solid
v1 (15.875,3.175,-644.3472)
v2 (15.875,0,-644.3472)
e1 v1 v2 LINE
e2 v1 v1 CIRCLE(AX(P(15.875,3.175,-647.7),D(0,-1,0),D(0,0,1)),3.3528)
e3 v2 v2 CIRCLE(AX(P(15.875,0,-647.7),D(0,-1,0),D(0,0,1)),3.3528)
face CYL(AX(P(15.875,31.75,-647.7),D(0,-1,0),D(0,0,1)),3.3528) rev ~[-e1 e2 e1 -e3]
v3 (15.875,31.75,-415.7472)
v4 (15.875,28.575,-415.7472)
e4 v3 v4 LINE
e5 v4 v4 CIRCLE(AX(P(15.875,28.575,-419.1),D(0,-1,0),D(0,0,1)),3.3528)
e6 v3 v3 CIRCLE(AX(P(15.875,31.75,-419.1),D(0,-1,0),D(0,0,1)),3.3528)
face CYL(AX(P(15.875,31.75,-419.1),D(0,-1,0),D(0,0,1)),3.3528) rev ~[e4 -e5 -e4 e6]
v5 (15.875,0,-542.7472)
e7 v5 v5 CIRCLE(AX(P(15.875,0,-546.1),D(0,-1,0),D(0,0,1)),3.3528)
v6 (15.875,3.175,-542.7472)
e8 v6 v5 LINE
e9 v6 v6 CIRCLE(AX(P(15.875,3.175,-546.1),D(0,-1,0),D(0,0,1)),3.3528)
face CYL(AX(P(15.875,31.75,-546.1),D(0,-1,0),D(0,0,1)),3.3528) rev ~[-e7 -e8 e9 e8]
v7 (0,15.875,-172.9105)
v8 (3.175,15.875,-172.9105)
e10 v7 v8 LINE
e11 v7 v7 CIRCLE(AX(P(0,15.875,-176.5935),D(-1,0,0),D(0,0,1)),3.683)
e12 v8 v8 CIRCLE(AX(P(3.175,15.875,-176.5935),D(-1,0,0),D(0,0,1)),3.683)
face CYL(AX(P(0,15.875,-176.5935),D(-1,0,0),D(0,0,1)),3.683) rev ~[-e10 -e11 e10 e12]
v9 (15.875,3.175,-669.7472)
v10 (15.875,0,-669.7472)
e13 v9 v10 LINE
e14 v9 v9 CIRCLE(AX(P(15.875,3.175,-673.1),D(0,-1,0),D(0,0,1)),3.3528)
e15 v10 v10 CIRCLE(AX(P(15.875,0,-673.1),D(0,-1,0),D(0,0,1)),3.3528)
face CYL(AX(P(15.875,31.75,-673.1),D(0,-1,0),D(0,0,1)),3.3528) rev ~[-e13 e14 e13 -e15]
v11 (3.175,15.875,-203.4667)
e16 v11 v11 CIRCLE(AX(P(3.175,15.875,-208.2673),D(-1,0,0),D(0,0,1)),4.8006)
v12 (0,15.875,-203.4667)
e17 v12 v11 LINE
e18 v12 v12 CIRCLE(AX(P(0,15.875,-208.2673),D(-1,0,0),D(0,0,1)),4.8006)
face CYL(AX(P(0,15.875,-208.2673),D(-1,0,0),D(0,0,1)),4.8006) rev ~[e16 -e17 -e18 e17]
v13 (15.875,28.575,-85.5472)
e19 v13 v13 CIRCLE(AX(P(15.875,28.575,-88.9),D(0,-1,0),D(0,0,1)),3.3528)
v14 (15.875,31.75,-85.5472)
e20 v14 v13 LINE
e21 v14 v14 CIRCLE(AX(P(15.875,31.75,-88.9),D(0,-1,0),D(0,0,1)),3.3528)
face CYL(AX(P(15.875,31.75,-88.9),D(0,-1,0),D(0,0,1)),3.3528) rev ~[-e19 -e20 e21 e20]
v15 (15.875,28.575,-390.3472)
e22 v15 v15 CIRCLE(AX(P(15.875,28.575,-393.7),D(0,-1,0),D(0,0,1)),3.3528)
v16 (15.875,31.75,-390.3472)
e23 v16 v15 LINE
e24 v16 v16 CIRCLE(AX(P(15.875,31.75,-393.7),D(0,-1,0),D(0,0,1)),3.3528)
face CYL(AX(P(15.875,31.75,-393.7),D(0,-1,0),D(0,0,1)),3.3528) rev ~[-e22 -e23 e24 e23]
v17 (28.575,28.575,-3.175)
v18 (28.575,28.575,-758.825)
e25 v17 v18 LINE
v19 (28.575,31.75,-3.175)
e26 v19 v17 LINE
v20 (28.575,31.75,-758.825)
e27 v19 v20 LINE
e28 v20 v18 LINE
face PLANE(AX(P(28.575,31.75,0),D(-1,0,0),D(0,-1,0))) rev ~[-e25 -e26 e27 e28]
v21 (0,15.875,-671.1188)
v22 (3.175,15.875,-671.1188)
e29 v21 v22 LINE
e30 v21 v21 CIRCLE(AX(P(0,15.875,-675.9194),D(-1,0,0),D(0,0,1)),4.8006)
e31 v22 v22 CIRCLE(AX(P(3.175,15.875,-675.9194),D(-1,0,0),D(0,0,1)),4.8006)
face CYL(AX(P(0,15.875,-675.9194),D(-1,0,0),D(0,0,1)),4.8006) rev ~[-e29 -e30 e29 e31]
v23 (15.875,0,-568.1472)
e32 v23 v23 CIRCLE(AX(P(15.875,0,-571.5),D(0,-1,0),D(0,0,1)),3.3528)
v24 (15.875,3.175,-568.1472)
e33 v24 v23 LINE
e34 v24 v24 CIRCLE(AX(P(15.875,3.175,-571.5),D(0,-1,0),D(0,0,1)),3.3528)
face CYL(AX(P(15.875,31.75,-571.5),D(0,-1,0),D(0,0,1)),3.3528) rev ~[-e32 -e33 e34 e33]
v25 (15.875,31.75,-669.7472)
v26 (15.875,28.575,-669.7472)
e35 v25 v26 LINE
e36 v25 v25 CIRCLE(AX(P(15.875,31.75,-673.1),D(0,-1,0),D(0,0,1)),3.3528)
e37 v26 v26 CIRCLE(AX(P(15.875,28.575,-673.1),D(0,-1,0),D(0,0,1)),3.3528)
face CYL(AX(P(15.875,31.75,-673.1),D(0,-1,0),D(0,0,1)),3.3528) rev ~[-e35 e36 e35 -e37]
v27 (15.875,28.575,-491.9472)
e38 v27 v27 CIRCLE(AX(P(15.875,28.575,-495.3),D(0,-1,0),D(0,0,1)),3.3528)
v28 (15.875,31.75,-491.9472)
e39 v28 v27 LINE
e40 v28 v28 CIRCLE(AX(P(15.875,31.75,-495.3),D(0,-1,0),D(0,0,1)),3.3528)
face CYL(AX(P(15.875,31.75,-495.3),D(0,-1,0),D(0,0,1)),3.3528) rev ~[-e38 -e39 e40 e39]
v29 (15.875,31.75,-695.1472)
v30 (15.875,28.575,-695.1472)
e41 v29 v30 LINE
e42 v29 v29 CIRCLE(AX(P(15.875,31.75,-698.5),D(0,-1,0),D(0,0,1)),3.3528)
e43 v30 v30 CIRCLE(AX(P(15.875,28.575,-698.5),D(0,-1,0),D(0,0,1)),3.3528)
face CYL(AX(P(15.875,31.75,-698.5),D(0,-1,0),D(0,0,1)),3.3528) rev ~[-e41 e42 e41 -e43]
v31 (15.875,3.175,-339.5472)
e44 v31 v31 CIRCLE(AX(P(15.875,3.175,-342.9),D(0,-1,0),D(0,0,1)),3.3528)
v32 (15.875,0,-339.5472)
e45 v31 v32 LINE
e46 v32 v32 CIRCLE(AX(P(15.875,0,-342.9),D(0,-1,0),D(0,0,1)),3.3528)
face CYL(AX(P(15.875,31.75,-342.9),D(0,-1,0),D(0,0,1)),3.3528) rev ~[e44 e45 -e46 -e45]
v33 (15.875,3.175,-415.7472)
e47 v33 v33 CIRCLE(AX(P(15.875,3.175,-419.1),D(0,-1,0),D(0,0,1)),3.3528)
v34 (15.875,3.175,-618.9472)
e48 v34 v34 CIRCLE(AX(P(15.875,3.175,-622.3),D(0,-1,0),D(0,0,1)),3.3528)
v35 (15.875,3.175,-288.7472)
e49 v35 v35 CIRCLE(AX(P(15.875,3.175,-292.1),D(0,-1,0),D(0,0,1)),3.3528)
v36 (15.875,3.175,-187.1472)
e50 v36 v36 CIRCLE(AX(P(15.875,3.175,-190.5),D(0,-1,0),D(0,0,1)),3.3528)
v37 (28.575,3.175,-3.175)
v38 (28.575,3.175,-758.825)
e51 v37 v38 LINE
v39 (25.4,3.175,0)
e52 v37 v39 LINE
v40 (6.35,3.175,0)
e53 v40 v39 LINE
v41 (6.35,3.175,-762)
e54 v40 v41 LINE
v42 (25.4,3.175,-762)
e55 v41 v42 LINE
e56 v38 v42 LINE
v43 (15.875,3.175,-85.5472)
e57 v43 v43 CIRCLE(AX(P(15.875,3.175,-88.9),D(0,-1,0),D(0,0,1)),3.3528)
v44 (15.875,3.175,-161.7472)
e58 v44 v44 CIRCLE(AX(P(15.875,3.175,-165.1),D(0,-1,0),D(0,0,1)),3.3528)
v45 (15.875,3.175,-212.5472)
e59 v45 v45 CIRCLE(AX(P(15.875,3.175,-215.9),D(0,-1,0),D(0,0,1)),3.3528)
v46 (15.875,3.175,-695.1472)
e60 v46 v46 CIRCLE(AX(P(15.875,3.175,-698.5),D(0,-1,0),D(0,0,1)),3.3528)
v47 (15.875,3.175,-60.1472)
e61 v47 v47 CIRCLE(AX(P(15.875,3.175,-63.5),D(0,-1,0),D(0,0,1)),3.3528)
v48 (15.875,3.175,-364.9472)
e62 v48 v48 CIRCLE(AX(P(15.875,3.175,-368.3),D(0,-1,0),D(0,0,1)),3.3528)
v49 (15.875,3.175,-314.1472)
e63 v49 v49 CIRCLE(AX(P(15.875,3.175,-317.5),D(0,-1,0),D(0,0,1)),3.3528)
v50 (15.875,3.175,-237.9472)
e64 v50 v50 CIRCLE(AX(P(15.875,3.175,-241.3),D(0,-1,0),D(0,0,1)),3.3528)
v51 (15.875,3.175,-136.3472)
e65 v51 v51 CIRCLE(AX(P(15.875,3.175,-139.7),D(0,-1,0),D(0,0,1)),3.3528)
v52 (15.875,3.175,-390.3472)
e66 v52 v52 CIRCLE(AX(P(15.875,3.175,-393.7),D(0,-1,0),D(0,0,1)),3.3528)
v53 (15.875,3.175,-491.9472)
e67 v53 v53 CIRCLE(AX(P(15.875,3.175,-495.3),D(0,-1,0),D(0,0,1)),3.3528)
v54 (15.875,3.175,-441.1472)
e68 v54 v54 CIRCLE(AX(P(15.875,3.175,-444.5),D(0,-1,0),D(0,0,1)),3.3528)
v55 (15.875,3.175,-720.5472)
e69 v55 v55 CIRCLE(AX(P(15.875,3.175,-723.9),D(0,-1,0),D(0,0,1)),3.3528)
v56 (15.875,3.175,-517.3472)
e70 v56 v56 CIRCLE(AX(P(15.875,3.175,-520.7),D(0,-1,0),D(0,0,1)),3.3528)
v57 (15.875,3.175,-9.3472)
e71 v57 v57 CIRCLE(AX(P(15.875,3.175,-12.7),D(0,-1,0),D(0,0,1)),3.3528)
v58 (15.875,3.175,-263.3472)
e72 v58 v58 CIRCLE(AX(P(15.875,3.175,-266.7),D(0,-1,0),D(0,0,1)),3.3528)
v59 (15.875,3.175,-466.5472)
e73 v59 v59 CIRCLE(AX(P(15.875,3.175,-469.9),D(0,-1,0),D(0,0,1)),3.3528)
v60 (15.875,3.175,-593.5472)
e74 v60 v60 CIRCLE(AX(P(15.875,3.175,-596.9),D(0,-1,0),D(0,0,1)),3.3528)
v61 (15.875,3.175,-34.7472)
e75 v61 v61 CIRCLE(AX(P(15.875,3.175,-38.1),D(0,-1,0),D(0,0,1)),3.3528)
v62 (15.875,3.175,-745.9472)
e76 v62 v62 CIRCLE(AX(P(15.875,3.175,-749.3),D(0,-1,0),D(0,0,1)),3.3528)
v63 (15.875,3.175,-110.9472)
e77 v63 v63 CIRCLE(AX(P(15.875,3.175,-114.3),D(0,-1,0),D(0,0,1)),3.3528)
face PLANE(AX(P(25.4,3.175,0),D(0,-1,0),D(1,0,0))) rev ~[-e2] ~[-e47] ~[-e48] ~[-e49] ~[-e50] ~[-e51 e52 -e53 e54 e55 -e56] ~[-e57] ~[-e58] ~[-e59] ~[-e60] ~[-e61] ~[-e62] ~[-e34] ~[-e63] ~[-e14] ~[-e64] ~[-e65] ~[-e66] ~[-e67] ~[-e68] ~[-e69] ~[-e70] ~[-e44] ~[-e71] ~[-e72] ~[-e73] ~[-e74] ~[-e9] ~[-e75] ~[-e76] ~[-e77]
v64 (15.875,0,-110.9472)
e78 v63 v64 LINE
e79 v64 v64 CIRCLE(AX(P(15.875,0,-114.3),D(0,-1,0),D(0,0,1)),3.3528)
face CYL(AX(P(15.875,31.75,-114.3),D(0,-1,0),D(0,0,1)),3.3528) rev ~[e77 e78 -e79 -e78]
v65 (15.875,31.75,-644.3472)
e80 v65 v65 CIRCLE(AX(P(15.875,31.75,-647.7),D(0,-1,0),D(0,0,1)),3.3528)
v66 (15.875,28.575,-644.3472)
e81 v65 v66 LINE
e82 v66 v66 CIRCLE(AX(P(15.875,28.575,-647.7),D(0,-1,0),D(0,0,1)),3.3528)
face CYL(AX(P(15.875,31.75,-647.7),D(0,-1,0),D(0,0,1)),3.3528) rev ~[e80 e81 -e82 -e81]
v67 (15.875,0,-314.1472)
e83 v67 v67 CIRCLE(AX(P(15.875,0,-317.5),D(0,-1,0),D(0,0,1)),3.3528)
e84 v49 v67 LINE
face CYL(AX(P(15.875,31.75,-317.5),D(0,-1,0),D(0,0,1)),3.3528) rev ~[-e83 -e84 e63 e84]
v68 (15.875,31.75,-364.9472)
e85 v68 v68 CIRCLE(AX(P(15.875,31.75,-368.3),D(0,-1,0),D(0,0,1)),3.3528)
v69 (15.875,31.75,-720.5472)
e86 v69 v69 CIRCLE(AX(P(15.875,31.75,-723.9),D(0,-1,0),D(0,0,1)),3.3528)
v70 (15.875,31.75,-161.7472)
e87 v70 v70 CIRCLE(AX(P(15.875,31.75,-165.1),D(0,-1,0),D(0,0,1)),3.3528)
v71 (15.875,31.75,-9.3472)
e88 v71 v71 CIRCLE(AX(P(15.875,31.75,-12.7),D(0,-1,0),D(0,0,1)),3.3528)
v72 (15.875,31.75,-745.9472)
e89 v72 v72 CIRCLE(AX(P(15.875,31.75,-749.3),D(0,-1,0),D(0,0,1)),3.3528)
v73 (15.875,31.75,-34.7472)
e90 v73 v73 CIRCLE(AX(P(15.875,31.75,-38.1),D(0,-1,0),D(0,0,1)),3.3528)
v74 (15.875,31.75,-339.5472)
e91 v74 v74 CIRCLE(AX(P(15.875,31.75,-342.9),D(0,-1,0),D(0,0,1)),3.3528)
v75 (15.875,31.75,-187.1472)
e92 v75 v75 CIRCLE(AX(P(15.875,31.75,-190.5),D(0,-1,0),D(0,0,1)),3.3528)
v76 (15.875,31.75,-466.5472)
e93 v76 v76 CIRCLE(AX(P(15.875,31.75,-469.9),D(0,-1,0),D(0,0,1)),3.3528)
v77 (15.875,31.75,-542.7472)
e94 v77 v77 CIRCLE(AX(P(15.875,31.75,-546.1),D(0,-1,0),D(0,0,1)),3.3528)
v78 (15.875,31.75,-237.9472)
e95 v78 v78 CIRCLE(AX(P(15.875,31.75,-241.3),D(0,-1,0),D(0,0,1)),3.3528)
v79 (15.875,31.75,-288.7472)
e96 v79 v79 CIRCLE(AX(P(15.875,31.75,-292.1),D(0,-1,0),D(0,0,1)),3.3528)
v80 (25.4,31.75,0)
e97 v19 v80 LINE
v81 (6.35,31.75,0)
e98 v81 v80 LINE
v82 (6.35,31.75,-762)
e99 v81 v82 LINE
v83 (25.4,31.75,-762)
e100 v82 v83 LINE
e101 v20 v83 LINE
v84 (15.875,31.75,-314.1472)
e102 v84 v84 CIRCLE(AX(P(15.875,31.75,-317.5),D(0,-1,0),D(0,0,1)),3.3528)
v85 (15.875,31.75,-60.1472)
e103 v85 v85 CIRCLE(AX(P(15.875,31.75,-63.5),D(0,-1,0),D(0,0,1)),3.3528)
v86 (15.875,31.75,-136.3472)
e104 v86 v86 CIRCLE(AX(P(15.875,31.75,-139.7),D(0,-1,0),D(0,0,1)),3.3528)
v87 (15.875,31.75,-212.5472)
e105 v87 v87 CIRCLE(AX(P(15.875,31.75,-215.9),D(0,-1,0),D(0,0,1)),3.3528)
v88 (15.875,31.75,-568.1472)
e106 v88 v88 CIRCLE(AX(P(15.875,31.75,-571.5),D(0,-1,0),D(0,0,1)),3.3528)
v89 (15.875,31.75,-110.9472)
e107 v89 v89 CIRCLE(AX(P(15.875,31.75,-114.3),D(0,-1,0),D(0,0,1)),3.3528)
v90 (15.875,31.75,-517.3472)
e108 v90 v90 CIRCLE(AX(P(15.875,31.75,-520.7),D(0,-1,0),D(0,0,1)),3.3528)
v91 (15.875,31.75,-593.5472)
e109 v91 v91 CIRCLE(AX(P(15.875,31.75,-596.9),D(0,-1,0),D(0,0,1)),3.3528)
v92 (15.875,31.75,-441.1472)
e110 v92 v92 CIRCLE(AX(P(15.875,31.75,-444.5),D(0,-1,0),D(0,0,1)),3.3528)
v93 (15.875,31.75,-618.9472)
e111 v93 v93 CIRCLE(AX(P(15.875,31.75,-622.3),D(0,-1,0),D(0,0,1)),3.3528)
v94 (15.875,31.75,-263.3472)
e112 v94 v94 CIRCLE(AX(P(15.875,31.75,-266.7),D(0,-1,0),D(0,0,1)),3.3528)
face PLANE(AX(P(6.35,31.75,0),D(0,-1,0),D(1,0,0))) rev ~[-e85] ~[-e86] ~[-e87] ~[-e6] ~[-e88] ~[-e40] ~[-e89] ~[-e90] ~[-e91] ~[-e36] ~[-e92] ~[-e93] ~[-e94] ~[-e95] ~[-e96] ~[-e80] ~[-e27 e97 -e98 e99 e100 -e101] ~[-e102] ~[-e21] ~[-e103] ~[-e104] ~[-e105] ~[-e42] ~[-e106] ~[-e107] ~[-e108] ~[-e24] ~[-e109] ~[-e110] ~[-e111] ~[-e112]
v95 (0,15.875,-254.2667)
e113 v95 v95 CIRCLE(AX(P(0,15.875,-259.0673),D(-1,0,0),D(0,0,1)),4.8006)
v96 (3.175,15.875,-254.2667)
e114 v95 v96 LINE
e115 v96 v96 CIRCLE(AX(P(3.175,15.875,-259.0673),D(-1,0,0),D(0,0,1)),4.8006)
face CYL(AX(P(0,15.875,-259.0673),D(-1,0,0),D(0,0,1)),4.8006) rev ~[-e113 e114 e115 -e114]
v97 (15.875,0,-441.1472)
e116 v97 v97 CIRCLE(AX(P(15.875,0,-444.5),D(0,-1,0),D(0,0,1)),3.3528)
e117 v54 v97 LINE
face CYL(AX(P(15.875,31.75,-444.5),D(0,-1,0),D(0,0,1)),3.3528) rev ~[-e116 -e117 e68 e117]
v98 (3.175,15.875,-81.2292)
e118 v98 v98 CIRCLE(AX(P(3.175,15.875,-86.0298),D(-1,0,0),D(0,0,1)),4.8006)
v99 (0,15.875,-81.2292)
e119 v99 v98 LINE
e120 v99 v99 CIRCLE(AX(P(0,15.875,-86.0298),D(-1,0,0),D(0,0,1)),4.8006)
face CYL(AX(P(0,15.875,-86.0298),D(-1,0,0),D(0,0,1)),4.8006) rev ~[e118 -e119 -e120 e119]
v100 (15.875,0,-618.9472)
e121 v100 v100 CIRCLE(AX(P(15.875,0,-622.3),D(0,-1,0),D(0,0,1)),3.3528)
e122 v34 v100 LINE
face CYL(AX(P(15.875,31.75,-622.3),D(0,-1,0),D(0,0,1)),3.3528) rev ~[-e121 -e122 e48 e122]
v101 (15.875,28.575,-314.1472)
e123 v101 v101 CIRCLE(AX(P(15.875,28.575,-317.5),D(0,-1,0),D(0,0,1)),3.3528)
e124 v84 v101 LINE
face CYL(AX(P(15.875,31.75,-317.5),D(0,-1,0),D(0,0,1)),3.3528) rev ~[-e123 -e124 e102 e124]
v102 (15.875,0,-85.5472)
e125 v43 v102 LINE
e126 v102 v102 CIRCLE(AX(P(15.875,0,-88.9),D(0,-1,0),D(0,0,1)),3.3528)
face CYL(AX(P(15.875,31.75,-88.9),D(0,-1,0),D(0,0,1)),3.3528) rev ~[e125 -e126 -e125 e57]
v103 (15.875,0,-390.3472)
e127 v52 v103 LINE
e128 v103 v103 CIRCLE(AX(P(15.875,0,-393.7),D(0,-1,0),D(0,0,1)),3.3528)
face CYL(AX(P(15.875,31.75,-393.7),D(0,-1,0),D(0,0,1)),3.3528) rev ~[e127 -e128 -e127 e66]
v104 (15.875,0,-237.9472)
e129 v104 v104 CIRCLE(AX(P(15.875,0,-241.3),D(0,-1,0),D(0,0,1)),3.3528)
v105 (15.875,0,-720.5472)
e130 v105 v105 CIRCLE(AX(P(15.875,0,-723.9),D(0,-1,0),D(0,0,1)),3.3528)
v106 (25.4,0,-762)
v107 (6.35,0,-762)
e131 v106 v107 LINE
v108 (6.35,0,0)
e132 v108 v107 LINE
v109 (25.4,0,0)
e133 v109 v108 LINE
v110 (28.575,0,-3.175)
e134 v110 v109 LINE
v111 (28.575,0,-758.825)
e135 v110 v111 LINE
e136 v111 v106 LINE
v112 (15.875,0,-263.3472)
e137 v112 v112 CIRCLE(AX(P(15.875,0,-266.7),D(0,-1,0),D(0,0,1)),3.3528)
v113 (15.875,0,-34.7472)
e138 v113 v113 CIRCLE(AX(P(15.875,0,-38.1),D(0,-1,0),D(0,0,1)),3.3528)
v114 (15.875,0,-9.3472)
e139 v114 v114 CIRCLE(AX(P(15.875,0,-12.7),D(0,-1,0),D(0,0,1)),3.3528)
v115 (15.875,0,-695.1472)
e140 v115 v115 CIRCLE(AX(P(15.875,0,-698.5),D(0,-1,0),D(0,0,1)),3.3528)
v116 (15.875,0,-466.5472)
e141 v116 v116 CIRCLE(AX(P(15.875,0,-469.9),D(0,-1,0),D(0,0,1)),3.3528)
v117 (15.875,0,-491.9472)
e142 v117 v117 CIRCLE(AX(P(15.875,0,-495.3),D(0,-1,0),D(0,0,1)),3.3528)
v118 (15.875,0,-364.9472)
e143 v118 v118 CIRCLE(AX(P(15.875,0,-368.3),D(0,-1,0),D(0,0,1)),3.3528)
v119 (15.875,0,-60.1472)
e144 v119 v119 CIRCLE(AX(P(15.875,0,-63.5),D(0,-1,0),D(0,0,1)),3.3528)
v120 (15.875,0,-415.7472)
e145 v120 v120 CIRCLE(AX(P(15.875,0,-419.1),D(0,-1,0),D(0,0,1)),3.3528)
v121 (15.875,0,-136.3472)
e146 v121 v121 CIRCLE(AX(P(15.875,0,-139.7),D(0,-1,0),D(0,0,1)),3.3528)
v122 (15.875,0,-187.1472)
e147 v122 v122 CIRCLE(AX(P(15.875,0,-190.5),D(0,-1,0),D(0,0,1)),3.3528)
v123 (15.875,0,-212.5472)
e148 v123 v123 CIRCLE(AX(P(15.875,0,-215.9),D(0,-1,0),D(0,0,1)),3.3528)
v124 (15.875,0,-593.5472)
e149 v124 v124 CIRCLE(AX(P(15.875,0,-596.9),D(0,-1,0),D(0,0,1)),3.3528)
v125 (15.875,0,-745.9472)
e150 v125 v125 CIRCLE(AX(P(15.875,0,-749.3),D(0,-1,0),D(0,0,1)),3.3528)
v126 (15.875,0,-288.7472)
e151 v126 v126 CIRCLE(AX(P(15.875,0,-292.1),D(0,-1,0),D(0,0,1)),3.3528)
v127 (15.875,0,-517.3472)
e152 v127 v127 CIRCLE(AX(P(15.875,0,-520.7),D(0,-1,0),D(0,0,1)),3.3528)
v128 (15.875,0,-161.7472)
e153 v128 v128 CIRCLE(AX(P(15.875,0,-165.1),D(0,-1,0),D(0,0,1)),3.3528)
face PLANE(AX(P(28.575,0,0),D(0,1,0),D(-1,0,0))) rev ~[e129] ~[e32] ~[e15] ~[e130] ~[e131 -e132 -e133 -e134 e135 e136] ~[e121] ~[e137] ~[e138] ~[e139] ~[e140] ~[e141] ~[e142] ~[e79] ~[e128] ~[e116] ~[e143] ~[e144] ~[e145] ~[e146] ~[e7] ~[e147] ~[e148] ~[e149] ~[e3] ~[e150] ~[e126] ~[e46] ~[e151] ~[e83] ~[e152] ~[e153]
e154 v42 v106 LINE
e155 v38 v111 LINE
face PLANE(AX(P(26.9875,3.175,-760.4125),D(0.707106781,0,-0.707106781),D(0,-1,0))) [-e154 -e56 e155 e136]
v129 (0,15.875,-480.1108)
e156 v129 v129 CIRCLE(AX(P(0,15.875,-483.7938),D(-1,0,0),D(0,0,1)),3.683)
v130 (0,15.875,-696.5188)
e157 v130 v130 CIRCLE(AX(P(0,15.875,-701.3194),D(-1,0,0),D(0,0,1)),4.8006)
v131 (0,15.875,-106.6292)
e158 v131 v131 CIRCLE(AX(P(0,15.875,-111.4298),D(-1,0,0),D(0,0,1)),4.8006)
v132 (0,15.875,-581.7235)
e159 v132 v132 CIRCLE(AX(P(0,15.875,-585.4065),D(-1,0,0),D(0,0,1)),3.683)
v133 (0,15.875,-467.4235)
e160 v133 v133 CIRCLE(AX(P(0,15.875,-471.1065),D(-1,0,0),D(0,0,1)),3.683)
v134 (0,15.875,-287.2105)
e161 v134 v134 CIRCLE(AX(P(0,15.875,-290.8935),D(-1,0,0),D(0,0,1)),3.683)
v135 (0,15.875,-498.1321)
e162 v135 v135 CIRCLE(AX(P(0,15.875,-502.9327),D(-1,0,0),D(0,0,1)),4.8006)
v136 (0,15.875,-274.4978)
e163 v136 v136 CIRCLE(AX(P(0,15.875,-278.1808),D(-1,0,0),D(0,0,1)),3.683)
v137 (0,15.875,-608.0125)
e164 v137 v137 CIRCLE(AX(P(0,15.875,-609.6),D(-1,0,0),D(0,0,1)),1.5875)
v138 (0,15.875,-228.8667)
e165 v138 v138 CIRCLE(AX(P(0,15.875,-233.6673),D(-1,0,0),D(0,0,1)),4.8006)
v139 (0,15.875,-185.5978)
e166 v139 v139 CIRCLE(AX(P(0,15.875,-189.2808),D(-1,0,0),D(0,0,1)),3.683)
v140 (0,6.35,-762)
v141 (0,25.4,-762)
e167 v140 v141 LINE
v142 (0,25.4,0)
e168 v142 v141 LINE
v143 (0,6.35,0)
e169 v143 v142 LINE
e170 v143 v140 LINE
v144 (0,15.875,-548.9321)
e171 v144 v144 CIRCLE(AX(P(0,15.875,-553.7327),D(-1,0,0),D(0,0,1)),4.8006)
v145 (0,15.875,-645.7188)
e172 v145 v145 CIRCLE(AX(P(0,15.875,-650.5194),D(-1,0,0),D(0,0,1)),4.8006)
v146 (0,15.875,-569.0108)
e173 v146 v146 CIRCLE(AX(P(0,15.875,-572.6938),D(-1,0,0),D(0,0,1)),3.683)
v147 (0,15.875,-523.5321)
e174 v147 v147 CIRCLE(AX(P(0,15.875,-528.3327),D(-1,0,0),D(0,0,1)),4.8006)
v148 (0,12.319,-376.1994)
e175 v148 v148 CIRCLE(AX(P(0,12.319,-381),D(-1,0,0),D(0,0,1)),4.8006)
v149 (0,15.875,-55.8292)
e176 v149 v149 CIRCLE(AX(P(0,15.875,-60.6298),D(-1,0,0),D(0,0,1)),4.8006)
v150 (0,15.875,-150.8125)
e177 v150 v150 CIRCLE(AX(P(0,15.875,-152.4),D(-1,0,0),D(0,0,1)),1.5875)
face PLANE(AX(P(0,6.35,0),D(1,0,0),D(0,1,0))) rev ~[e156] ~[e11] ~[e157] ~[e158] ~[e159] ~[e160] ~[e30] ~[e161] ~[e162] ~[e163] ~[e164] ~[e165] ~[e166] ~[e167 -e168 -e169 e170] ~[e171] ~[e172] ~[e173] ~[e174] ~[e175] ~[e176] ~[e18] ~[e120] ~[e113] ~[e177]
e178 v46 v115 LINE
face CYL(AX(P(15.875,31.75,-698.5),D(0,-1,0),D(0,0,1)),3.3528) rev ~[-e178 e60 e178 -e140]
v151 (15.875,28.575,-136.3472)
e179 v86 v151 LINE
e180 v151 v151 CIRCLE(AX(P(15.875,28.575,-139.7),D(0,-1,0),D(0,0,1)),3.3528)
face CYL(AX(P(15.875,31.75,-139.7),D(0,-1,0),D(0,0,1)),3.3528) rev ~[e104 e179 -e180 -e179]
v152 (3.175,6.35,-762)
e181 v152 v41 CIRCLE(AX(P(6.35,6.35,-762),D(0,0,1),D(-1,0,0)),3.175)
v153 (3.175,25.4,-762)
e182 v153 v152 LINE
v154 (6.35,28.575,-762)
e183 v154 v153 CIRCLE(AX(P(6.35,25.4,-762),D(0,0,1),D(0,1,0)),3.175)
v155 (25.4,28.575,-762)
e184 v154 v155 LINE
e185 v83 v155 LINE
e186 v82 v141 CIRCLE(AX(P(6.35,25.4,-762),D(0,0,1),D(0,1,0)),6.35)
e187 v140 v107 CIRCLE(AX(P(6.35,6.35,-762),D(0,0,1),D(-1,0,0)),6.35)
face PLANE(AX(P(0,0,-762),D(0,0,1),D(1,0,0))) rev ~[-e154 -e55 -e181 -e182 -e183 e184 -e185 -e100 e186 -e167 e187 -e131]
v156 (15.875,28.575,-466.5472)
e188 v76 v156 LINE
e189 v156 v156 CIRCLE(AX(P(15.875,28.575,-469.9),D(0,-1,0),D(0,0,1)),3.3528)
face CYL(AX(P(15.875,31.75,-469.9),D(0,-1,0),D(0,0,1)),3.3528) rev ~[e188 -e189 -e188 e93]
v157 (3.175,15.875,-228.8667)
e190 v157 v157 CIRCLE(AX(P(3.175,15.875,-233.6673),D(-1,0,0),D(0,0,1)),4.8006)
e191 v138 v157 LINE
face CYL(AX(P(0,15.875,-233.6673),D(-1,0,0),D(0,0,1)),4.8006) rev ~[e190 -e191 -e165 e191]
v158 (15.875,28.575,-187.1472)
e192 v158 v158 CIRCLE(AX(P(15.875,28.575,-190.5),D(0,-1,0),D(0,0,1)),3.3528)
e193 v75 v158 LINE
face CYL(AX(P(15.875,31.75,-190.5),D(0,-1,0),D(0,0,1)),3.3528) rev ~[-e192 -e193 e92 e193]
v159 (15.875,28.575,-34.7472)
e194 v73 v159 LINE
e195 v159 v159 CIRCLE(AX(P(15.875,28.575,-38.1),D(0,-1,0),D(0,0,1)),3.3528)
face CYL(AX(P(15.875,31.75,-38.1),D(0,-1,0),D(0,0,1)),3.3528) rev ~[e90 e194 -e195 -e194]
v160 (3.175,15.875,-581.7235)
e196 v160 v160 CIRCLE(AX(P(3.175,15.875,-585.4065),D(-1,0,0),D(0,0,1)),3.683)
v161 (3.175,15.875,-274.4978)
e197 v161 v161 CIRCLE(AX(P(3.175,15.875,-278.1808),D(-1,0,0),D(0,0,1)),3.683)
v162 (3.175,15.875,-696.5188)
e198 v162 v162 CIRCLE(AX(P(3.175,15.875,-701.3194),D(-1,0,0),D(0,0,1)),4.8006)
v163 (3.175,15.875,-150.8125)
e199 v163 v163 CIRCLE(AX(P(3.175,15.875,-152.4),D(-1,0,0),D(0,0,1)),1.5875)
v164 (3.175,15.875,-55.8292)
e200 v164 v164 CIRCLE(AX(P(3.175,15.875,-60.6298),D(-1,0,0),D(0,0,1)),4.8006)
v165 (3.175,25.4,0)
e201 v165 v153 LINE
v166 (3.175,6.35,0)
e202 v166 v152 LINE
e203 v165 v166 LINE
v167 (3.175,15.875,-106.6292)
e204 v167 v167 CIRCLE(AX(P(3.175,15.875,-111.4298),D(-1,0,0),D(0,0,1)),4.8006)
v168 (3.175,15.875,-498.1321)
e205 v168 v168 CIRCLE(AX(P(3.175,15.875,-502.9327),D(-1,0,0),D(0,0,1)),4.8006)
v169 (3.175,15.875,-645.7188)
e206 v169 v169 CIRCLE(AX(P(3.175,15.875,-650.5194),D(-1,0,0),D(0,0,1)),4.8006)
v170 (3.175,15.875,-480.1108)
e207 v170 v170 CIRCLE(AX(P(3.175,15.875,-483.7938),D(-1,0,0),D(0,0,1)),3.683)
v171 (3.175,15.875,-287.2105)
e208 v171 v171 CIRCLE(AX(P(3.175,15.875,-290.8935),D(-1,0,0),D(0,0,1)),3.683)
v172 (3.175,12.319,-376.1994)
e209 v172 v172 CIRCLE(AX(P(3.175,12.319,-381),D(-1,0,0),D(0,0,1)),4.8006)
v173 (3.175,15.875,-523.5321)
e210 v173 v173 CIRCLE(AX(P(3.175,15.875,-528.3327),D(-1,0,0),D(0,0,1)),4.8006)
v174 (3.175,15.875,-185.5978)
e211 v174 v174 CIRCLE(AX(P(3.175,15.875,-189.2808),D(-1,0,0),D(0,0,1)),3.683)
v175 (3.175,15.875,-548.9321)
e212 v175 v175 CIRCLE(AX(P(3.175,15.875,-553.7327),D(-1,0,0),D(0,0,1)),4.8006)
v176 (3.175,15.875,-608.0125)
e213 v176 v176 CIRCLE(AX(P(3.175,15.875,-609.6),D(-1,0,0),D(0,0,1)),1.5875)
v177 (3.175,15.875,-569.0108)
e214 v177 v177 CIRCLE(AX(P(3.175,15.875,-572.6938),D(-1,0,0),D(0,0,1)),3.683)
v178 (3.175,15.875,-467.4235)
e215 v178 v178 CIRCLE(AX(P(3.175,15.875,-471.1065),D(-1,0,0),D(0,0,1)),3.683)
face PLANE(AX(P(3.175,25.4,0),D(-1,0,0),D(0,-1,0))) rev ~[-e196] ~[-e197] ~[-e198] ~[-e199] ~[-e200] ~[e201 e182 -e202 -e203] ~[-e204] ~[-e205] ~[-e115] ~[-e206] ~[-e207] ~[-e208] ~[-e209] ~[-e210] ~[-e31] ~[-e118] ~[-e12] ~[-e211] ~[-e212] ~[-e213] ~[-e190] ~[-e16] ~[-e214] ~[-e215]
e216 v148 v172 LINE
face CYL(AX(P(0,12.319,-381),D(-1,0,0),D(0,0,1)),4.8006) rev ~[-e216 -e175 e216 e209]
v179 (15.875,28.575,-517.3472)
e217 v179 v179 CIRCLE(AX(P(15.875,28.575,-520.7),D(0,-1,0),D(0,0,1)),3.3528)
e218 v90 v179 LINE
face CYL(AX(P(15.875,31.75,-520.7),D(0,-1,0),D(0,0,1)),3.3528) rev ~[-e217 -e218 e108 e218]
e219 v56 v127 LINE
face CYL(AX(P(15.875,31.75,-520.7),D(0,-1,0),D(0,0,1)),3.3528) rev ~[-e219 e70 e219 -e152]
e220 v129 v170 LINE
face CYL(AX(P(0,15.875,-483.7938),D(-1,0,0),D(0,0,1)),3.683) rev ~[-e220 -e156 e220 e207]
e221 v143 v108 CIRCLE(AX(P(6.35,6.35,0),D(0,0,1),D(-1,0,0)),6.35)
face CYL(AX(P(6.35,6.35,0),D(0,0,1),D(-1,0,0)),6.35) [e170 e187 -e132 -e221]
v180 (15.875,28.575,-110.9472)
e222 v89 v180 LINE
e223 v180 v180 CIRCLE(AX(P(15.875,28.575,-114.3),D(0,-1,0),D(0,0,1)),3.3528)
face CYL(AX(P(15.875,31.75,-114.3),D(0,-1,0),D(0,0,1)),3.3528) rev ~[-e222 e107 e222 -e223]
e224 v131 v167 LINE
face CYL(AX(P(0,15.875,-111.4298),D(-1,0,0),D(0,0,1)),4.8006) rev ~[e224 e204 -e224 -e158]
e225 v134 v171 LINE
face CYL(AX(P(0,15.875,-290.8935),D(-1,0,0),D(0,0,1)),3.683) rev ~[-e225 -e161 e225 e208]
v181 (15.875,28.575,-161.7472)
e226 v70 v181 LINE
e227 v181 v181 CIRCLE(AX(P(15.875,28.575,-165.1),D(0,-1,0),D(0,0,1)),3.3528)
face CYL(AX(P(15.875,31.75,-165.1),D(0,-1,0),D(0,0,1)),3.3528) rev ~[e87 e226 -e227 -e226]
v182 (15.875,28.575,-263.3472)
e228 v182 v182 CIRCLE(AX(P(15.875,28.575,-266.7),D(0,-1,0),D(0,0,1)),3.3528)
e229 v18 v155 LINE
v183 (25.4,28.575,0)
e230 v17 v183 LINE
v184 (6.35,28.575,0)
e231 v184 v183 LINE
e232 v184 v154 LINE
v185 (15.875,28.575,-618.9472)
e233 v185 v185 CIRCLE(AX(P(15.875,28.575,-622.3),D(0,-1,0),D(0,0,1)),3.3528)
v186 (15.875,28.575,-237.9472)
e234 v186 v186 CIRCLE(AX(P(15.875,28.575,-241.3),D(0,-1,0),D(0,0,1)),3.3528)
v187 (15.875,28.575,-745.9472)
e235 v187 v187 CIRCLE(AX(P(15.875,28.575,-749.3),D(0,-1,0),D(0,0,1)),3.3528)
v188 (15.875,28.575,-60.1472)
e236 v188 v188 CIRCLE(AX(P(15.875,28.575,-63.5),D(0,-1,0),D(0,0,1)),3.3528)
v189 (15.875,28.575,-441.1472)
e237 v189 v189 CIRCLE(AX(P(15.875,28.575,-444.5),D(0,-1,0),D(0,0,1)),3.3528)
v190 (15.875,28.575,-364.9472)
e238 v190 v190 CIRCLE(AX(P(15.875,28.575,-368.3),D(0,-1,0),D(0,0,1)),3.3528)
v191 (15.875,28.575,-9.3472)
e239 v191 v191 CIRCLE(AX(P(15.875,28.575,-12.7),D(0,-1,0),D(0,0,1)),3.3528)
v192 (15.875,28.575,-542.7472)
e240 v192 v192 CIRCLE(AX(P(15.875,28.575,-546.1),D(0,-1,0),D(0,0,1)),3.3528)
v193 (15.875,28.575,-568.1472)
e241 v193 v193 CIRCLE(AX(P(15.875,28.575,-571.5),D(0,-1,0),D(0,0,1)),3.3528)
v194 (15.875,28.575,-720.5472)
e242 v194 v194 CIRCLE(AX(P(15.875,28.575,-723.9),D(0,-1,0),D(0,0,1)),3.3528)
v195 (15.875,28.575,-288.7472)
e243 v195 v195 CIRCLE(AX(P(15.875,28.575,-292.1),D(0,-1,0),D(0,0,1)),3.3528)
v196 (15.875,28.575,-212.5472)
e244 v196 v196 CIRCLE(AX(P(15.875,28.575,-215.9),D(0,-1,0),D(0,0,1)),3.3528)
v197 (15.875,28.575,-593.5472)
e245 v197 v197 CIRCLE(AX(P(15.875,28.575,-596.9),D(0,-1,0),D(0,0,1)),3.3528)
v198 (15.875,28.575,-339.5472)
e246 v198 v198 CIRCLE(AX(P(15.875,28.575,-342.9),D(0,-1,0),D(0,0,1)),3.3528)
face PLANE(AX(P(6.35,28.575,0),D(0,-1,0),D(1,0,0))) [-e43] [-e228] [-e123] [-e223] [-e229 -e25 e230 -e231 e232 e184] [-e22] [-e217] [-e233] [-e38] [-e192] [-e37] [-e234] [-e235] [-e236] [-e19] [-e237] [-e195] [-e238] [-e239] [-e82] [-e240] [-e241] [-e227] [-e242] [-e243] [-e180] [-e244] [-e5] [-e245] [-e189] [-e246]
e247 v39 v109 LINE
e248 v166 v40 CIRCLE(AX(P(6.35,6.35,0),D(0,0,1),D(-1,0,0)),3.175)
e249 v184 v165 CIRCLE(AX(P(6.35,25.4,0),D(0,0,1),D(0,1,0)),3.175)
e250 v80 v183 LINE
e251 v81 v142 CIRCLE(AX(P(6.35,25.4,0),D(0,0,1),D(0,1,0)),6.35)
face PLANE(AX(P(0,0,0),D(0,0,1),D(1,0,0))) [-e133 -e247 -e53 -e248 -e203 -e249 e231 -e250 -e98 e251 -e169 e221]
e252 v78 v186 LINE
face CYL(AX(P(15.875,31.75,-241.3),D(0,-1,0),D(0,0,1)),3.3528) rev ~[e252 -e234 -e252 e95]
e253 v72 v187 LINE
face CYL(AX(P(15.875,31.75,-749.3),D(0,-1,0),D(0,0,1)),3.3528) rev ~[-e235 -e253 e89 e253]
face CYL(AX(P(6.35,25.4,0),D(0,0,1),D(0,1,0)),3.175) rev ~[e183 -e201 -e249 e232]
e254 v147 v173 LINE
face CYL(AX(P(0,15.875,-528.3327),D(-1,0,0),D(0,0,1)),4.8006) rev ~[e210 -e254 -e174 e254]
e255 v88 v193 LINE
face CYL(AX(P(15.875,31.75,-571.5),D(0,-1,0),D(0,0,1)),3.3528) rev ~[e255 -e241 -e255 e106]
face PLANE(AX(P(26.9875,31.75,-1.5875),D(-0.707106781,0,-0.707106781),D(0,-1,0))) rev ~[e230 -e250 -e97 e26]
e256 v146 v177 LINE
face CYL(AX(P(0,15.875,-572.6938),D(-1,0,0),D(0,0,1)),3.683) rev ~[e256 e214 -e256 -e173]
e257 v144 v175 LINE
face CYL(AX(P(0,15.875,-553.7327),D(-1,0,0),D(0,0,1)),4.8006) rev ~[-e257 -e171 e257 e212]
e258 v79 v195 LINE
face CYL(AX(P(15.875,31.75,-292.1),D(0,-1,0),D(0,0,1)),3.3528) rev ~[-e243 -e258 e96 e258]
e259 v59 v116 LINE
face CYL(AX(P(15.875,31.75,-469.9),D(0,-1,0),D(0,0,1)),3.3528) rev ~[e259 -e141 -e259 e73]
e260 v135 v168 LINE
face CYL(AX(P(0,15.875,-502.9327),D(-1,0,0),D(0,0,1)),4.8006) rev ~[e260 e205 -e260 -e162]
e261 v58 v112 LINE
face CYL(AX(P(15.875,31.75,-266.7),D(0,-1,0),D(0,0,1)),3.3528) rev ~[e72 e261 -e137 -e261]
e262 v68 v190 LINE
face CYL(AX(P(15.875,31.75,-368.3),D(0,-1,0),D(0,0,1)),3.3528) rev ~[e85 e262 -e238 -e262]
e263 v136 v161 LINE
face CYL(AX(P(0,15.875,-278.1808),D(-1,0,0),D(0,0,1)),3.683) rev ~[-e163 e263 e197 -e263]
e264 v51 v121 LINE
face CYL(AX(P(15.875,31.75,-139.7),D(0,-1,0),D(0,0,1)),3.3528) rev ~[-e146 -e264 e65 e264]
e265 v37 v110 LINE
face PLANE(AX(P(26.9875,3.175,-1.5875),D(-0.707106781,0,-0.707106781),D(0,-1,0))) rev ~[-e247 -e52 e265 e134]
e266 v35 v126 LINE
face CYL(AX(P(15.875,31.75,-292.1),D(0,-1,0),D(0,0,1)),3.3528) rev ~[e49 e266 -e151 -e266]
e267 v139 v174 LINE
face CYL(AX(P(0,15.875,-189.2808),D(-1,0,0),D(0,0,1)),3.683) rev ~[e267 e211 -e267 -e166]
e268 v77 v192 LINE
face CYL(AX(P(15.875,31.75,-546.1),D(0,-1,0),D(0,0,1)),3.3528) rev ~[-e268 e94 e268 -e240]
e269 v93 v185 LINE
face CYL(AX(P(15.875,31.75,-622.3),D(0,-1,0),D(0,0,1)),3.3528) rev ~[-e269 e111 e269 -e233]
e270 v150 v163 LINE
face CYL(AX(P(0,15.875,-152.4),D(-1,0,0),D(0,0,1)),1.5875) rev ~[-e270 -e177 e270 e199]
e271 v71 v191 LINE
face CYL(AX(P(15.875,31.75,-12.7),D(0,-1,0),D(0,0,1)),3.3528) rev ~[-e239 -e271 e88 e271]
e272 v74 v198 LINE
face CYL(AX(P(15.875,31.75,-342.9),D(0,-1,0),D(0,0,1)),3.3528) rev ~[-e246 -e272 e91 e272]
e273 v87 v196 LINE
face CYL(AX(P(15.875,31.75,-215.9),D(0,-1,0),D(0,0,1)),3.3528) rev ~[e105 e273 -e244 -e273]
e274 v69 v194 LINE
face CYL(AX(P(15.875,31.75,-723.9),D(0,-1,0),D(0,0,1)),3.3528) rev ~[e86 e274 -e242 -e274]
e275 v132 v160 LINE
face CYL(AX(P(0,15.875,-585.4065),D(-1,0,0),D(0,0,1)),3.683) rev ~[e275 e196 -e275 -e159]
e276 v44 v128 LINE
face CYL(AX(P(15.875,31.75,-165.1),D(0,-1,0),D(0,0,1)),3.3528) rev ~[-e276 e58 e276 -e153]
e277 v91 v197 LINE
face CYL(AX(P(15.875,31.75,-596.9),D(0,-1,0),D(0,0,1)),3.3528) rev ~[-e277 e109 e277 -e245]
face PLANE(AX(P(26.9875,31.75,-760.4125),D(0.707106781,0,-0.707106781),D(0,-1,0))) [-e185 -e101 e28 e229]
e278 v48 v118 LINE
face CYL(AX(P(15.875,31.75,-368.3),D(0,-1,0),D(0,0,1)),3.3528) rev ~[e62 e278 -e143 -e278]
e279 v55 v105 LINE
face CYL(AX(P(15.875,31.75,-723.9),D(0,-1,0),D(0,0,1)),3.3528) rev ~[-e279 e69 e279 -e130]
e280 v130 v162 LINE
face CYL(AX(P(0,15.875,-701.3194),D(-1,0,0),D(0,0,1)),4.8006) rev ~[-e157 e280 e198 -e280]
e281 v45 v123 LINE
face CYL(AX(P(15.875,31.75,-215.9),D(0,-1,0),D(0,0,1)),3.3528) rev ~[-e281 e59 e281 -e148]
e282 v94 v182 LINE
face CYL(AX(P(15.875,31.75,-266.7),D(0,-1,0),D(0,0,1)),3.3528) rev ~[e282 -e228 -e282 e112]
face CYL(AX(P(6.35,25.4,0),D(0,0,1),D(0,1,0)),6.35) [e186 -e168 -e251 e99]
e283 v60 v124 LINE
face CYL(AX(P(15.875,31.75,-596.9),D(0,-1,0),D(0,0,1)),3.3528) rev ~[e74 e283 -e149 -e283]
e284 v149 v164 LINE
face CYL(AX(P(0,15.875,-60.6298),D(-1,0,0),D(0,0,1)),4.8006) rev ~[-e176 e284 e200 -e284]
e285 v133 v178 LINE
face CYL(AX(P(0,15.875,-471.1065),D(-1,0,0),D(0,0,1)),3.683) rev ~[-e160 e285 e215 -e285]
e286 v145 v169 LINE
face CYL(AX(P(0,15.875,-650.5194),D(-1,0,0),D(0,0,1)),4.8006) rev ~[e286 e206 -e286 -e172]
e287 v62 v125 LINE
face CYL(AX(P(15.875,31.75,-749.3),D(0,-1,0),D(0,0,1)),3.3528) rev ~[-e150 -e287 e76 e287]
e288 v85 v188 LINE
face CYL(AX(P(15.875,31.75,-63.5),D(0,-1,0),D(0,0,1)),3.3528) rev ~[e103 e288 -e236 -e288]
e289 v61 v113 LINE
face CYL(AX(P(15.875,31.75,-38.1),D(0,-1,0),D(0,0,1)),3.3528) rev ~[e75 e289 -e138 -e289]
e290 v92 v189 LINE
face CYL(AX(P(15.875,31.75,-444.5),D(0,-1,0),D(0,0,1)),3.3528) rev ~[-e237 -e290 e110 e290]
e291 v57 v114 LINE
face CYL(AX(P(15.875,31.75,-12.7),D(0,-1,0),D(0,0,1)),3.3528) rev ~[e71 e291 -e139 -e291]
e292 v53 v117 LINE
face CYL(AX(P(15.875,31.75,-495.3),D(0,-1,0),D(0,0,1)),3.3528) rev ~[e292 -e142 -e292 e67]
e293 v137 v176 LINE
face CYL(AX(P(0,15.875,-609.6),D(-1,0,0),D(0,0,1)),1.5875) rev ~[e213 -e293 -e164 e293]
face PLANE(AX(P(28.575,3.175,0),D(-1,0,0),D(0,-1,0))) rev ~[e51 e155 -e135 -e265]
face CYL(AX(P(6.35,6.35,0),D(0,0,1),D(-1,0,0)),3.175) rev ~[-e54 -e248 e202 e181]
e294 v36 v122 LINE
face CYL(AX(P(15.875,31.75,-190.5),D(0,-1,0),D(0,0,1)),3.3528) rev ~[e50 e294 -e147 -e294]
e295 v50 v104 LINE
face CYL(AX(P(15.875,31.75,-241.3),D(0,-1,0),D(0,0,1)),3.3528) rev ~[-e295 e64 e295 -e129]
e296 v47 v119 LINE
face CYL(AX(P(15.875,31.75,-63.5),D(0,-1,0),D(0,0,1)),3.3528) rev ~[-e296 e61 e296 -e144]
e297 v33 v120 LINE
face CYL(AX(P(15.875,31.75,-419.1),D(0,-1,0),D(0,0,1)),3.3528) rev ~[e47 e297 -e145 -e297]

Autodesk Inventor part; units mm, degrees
ref_plane "YZ Plane" through (0, 0, 0) normal (1, 0, 0) x (0, 1, 0)
ref_plane "XZ Plane" through (0, 0, 0) normal (0, 1, 0) x (-1, 0, 0)
ref_plane "XY Plane" through (0, 0, 0) normal (0, 0, 1) x (1, 0, 0)
sketch "Sketch1" plane through (0, 0, 0) normal (0, 0, 1) x (1, 0, 0)
  line L0 (6.35, 28.575) -> (25.4, 28.575)
  line L1 (6.35, 31.75) -> (25.4, 31.75)
  line L2 (25.4, 0) -> (6.35, 0)
  arc A0 (0, 6.35) -> (6.35, 0) centre (6.35, 6.35) ccw
  line L3 (0, 6.35) -> (0, 25.4)
  arc A1 (6.35, 31.75) -> (0, 25.4) centre (6.35, 25.4) ccw
  line L4 (6.35, 31.75) -> (25.4, 31.75)
  line L5 (25.4, 28.575) -> (6.35, 28.575)
  arc A2 (6.35, 28.575) -> (3.175, 25.4) centre (6.35, 25.4) ccw
  line L6 (3.175, 25.4) -> (3.175, 6.35)
  arc A3 (3.175, 6.35) -> (6.35, 3.175) centre (6.35, 6.35) ccw
  line L7 (6.35, 3.175) -> (25.4, 3.175)
  line L8 (28.575, 3.175) -> (28.575, 0)
  line L9 (25.4, 31.75) -> (28.575, 31.75)
  line L10 (28.575, 28.575) -> (25.4, 28.575)
  line L11 (28.575, 31.75) -> (28.575, 28.575)
  line L12 (28.575, 0) -> (25.4, 0)
  line L13 (28.575, 3.175) -> (28.575, 0)
  line L14 (25.4, 3.175) -> (28.575, 3.175)
  point P0 (0, 0)
extrude "Extrusion1" add sketch "Sketch1" against normal blind 762
chamfer "Chamfer1" distance 3.175 angle 45 4 edges at (28.575, 30.1625, 0) (28.575, 1.5875, 0) (28.575, 30.1625, -762) (28.575, 1.5875, -762)
sketch "Sketch2" plane through (6.35, 31.75, 0) normal (0, 1, 0) x (1, 0, 0)
  line L0 (19.05, 0) -> (0, 0) projected
  line L1 (22.225, 3.175) -> (22.225, 758.825) projected
  point P0 (-6.35, 0)
  point P1 (9.525, 12.7)
  dimension "d5" = 12.7
  dimension "d6" = 12.7
hole "Hole1" at (15.875, 31.75, -12.7) direction (0, -1, 0) diameter 6.7056 end through all
pattern_linear "Rectangular Pattern1" count 30 spacing 25.4 along (0, 0, -1) of "Hole1"
sketch "Sketch3" plane through (0, 6.35, 0) normal (-1, 0, 0) x (0, 0, 1)
  line L0 (0, 19.05) -> (-762, 19.05)
  line L1 (-762, 19.05) -> (-762, 0)
  line L2 (0, 0) -> (-762, 0)
  line L3 (0, 0) -> (0, 19.05)
  circle A0 centre (-701.3194, 9.525) radius 4.8006
  circle A1 centre (-111.4298, 9.525) radius 4.8006
  circle A2 centre (-189.2808, 9.525) radius 3.683
  circle A3 centre (-278.1808, 9.525) radius 3.683
  circle A4 centre (-483.7938, 9.525) radius 3.683
  circle A5 centre (-572.6938, 9.525) radius 3.683
  circle A6 centre (-471.1065, 9.525) radius 3.683
  circle A7 centre (-585.4065, 9.525) radius 3.683
  circle A8 centre (-290.8935, 9.525) radius 3.683
  circle A9 centre (-176.5935, 9.525) radius 3.683
  circle A10 centre (-553.7327, 9.525) radius 4.8006
  circle A11 centre (-528.3327, 9.525) radius 4.8006
  circle A12 centre (-502.9327, 9.525) radius 4.8006
  circle A13 centre (-259.0673, 9.525) radius 4.8006
  circle A14 centre (-233.6673, 9.525) radius 4.8006
  circle A15 centre (-208.2673, 9.525) radius 4.8006
  circle A16 centre (-609.6, 9.525) radius 1.5875
  circle A17 centre (-152.4, 9.525) radius 1.5875
  circle A18 centre (-381, 5.969) radius 4.8006
  circle A19 centre (-86.0298, 9.525) radius 4.8006
  circle A20 centre (-675.9194, 9.525) radius 4.8006
  circle A21 centre (-650.5194, 9.525) radius 4.8006
  circle A22 centre (-60.6298, 9.525) radius 4.8006
  point P0 (0, -6.35)
  point P1 (-762, -6.35)
extrude "Extrusion2" cut sketch "Sketch3" against normal up to next contours A0 | A1 | A2 | A3 | A4 | A5 | A6 | A7 | A8 | A9 | A10 | A11 | A12 | A13 | A14 | A15 | A16 | A17 | A18 | A19 | A20 | A21 | A22
properties part number "am-2222" material "Aluminum 6061"
